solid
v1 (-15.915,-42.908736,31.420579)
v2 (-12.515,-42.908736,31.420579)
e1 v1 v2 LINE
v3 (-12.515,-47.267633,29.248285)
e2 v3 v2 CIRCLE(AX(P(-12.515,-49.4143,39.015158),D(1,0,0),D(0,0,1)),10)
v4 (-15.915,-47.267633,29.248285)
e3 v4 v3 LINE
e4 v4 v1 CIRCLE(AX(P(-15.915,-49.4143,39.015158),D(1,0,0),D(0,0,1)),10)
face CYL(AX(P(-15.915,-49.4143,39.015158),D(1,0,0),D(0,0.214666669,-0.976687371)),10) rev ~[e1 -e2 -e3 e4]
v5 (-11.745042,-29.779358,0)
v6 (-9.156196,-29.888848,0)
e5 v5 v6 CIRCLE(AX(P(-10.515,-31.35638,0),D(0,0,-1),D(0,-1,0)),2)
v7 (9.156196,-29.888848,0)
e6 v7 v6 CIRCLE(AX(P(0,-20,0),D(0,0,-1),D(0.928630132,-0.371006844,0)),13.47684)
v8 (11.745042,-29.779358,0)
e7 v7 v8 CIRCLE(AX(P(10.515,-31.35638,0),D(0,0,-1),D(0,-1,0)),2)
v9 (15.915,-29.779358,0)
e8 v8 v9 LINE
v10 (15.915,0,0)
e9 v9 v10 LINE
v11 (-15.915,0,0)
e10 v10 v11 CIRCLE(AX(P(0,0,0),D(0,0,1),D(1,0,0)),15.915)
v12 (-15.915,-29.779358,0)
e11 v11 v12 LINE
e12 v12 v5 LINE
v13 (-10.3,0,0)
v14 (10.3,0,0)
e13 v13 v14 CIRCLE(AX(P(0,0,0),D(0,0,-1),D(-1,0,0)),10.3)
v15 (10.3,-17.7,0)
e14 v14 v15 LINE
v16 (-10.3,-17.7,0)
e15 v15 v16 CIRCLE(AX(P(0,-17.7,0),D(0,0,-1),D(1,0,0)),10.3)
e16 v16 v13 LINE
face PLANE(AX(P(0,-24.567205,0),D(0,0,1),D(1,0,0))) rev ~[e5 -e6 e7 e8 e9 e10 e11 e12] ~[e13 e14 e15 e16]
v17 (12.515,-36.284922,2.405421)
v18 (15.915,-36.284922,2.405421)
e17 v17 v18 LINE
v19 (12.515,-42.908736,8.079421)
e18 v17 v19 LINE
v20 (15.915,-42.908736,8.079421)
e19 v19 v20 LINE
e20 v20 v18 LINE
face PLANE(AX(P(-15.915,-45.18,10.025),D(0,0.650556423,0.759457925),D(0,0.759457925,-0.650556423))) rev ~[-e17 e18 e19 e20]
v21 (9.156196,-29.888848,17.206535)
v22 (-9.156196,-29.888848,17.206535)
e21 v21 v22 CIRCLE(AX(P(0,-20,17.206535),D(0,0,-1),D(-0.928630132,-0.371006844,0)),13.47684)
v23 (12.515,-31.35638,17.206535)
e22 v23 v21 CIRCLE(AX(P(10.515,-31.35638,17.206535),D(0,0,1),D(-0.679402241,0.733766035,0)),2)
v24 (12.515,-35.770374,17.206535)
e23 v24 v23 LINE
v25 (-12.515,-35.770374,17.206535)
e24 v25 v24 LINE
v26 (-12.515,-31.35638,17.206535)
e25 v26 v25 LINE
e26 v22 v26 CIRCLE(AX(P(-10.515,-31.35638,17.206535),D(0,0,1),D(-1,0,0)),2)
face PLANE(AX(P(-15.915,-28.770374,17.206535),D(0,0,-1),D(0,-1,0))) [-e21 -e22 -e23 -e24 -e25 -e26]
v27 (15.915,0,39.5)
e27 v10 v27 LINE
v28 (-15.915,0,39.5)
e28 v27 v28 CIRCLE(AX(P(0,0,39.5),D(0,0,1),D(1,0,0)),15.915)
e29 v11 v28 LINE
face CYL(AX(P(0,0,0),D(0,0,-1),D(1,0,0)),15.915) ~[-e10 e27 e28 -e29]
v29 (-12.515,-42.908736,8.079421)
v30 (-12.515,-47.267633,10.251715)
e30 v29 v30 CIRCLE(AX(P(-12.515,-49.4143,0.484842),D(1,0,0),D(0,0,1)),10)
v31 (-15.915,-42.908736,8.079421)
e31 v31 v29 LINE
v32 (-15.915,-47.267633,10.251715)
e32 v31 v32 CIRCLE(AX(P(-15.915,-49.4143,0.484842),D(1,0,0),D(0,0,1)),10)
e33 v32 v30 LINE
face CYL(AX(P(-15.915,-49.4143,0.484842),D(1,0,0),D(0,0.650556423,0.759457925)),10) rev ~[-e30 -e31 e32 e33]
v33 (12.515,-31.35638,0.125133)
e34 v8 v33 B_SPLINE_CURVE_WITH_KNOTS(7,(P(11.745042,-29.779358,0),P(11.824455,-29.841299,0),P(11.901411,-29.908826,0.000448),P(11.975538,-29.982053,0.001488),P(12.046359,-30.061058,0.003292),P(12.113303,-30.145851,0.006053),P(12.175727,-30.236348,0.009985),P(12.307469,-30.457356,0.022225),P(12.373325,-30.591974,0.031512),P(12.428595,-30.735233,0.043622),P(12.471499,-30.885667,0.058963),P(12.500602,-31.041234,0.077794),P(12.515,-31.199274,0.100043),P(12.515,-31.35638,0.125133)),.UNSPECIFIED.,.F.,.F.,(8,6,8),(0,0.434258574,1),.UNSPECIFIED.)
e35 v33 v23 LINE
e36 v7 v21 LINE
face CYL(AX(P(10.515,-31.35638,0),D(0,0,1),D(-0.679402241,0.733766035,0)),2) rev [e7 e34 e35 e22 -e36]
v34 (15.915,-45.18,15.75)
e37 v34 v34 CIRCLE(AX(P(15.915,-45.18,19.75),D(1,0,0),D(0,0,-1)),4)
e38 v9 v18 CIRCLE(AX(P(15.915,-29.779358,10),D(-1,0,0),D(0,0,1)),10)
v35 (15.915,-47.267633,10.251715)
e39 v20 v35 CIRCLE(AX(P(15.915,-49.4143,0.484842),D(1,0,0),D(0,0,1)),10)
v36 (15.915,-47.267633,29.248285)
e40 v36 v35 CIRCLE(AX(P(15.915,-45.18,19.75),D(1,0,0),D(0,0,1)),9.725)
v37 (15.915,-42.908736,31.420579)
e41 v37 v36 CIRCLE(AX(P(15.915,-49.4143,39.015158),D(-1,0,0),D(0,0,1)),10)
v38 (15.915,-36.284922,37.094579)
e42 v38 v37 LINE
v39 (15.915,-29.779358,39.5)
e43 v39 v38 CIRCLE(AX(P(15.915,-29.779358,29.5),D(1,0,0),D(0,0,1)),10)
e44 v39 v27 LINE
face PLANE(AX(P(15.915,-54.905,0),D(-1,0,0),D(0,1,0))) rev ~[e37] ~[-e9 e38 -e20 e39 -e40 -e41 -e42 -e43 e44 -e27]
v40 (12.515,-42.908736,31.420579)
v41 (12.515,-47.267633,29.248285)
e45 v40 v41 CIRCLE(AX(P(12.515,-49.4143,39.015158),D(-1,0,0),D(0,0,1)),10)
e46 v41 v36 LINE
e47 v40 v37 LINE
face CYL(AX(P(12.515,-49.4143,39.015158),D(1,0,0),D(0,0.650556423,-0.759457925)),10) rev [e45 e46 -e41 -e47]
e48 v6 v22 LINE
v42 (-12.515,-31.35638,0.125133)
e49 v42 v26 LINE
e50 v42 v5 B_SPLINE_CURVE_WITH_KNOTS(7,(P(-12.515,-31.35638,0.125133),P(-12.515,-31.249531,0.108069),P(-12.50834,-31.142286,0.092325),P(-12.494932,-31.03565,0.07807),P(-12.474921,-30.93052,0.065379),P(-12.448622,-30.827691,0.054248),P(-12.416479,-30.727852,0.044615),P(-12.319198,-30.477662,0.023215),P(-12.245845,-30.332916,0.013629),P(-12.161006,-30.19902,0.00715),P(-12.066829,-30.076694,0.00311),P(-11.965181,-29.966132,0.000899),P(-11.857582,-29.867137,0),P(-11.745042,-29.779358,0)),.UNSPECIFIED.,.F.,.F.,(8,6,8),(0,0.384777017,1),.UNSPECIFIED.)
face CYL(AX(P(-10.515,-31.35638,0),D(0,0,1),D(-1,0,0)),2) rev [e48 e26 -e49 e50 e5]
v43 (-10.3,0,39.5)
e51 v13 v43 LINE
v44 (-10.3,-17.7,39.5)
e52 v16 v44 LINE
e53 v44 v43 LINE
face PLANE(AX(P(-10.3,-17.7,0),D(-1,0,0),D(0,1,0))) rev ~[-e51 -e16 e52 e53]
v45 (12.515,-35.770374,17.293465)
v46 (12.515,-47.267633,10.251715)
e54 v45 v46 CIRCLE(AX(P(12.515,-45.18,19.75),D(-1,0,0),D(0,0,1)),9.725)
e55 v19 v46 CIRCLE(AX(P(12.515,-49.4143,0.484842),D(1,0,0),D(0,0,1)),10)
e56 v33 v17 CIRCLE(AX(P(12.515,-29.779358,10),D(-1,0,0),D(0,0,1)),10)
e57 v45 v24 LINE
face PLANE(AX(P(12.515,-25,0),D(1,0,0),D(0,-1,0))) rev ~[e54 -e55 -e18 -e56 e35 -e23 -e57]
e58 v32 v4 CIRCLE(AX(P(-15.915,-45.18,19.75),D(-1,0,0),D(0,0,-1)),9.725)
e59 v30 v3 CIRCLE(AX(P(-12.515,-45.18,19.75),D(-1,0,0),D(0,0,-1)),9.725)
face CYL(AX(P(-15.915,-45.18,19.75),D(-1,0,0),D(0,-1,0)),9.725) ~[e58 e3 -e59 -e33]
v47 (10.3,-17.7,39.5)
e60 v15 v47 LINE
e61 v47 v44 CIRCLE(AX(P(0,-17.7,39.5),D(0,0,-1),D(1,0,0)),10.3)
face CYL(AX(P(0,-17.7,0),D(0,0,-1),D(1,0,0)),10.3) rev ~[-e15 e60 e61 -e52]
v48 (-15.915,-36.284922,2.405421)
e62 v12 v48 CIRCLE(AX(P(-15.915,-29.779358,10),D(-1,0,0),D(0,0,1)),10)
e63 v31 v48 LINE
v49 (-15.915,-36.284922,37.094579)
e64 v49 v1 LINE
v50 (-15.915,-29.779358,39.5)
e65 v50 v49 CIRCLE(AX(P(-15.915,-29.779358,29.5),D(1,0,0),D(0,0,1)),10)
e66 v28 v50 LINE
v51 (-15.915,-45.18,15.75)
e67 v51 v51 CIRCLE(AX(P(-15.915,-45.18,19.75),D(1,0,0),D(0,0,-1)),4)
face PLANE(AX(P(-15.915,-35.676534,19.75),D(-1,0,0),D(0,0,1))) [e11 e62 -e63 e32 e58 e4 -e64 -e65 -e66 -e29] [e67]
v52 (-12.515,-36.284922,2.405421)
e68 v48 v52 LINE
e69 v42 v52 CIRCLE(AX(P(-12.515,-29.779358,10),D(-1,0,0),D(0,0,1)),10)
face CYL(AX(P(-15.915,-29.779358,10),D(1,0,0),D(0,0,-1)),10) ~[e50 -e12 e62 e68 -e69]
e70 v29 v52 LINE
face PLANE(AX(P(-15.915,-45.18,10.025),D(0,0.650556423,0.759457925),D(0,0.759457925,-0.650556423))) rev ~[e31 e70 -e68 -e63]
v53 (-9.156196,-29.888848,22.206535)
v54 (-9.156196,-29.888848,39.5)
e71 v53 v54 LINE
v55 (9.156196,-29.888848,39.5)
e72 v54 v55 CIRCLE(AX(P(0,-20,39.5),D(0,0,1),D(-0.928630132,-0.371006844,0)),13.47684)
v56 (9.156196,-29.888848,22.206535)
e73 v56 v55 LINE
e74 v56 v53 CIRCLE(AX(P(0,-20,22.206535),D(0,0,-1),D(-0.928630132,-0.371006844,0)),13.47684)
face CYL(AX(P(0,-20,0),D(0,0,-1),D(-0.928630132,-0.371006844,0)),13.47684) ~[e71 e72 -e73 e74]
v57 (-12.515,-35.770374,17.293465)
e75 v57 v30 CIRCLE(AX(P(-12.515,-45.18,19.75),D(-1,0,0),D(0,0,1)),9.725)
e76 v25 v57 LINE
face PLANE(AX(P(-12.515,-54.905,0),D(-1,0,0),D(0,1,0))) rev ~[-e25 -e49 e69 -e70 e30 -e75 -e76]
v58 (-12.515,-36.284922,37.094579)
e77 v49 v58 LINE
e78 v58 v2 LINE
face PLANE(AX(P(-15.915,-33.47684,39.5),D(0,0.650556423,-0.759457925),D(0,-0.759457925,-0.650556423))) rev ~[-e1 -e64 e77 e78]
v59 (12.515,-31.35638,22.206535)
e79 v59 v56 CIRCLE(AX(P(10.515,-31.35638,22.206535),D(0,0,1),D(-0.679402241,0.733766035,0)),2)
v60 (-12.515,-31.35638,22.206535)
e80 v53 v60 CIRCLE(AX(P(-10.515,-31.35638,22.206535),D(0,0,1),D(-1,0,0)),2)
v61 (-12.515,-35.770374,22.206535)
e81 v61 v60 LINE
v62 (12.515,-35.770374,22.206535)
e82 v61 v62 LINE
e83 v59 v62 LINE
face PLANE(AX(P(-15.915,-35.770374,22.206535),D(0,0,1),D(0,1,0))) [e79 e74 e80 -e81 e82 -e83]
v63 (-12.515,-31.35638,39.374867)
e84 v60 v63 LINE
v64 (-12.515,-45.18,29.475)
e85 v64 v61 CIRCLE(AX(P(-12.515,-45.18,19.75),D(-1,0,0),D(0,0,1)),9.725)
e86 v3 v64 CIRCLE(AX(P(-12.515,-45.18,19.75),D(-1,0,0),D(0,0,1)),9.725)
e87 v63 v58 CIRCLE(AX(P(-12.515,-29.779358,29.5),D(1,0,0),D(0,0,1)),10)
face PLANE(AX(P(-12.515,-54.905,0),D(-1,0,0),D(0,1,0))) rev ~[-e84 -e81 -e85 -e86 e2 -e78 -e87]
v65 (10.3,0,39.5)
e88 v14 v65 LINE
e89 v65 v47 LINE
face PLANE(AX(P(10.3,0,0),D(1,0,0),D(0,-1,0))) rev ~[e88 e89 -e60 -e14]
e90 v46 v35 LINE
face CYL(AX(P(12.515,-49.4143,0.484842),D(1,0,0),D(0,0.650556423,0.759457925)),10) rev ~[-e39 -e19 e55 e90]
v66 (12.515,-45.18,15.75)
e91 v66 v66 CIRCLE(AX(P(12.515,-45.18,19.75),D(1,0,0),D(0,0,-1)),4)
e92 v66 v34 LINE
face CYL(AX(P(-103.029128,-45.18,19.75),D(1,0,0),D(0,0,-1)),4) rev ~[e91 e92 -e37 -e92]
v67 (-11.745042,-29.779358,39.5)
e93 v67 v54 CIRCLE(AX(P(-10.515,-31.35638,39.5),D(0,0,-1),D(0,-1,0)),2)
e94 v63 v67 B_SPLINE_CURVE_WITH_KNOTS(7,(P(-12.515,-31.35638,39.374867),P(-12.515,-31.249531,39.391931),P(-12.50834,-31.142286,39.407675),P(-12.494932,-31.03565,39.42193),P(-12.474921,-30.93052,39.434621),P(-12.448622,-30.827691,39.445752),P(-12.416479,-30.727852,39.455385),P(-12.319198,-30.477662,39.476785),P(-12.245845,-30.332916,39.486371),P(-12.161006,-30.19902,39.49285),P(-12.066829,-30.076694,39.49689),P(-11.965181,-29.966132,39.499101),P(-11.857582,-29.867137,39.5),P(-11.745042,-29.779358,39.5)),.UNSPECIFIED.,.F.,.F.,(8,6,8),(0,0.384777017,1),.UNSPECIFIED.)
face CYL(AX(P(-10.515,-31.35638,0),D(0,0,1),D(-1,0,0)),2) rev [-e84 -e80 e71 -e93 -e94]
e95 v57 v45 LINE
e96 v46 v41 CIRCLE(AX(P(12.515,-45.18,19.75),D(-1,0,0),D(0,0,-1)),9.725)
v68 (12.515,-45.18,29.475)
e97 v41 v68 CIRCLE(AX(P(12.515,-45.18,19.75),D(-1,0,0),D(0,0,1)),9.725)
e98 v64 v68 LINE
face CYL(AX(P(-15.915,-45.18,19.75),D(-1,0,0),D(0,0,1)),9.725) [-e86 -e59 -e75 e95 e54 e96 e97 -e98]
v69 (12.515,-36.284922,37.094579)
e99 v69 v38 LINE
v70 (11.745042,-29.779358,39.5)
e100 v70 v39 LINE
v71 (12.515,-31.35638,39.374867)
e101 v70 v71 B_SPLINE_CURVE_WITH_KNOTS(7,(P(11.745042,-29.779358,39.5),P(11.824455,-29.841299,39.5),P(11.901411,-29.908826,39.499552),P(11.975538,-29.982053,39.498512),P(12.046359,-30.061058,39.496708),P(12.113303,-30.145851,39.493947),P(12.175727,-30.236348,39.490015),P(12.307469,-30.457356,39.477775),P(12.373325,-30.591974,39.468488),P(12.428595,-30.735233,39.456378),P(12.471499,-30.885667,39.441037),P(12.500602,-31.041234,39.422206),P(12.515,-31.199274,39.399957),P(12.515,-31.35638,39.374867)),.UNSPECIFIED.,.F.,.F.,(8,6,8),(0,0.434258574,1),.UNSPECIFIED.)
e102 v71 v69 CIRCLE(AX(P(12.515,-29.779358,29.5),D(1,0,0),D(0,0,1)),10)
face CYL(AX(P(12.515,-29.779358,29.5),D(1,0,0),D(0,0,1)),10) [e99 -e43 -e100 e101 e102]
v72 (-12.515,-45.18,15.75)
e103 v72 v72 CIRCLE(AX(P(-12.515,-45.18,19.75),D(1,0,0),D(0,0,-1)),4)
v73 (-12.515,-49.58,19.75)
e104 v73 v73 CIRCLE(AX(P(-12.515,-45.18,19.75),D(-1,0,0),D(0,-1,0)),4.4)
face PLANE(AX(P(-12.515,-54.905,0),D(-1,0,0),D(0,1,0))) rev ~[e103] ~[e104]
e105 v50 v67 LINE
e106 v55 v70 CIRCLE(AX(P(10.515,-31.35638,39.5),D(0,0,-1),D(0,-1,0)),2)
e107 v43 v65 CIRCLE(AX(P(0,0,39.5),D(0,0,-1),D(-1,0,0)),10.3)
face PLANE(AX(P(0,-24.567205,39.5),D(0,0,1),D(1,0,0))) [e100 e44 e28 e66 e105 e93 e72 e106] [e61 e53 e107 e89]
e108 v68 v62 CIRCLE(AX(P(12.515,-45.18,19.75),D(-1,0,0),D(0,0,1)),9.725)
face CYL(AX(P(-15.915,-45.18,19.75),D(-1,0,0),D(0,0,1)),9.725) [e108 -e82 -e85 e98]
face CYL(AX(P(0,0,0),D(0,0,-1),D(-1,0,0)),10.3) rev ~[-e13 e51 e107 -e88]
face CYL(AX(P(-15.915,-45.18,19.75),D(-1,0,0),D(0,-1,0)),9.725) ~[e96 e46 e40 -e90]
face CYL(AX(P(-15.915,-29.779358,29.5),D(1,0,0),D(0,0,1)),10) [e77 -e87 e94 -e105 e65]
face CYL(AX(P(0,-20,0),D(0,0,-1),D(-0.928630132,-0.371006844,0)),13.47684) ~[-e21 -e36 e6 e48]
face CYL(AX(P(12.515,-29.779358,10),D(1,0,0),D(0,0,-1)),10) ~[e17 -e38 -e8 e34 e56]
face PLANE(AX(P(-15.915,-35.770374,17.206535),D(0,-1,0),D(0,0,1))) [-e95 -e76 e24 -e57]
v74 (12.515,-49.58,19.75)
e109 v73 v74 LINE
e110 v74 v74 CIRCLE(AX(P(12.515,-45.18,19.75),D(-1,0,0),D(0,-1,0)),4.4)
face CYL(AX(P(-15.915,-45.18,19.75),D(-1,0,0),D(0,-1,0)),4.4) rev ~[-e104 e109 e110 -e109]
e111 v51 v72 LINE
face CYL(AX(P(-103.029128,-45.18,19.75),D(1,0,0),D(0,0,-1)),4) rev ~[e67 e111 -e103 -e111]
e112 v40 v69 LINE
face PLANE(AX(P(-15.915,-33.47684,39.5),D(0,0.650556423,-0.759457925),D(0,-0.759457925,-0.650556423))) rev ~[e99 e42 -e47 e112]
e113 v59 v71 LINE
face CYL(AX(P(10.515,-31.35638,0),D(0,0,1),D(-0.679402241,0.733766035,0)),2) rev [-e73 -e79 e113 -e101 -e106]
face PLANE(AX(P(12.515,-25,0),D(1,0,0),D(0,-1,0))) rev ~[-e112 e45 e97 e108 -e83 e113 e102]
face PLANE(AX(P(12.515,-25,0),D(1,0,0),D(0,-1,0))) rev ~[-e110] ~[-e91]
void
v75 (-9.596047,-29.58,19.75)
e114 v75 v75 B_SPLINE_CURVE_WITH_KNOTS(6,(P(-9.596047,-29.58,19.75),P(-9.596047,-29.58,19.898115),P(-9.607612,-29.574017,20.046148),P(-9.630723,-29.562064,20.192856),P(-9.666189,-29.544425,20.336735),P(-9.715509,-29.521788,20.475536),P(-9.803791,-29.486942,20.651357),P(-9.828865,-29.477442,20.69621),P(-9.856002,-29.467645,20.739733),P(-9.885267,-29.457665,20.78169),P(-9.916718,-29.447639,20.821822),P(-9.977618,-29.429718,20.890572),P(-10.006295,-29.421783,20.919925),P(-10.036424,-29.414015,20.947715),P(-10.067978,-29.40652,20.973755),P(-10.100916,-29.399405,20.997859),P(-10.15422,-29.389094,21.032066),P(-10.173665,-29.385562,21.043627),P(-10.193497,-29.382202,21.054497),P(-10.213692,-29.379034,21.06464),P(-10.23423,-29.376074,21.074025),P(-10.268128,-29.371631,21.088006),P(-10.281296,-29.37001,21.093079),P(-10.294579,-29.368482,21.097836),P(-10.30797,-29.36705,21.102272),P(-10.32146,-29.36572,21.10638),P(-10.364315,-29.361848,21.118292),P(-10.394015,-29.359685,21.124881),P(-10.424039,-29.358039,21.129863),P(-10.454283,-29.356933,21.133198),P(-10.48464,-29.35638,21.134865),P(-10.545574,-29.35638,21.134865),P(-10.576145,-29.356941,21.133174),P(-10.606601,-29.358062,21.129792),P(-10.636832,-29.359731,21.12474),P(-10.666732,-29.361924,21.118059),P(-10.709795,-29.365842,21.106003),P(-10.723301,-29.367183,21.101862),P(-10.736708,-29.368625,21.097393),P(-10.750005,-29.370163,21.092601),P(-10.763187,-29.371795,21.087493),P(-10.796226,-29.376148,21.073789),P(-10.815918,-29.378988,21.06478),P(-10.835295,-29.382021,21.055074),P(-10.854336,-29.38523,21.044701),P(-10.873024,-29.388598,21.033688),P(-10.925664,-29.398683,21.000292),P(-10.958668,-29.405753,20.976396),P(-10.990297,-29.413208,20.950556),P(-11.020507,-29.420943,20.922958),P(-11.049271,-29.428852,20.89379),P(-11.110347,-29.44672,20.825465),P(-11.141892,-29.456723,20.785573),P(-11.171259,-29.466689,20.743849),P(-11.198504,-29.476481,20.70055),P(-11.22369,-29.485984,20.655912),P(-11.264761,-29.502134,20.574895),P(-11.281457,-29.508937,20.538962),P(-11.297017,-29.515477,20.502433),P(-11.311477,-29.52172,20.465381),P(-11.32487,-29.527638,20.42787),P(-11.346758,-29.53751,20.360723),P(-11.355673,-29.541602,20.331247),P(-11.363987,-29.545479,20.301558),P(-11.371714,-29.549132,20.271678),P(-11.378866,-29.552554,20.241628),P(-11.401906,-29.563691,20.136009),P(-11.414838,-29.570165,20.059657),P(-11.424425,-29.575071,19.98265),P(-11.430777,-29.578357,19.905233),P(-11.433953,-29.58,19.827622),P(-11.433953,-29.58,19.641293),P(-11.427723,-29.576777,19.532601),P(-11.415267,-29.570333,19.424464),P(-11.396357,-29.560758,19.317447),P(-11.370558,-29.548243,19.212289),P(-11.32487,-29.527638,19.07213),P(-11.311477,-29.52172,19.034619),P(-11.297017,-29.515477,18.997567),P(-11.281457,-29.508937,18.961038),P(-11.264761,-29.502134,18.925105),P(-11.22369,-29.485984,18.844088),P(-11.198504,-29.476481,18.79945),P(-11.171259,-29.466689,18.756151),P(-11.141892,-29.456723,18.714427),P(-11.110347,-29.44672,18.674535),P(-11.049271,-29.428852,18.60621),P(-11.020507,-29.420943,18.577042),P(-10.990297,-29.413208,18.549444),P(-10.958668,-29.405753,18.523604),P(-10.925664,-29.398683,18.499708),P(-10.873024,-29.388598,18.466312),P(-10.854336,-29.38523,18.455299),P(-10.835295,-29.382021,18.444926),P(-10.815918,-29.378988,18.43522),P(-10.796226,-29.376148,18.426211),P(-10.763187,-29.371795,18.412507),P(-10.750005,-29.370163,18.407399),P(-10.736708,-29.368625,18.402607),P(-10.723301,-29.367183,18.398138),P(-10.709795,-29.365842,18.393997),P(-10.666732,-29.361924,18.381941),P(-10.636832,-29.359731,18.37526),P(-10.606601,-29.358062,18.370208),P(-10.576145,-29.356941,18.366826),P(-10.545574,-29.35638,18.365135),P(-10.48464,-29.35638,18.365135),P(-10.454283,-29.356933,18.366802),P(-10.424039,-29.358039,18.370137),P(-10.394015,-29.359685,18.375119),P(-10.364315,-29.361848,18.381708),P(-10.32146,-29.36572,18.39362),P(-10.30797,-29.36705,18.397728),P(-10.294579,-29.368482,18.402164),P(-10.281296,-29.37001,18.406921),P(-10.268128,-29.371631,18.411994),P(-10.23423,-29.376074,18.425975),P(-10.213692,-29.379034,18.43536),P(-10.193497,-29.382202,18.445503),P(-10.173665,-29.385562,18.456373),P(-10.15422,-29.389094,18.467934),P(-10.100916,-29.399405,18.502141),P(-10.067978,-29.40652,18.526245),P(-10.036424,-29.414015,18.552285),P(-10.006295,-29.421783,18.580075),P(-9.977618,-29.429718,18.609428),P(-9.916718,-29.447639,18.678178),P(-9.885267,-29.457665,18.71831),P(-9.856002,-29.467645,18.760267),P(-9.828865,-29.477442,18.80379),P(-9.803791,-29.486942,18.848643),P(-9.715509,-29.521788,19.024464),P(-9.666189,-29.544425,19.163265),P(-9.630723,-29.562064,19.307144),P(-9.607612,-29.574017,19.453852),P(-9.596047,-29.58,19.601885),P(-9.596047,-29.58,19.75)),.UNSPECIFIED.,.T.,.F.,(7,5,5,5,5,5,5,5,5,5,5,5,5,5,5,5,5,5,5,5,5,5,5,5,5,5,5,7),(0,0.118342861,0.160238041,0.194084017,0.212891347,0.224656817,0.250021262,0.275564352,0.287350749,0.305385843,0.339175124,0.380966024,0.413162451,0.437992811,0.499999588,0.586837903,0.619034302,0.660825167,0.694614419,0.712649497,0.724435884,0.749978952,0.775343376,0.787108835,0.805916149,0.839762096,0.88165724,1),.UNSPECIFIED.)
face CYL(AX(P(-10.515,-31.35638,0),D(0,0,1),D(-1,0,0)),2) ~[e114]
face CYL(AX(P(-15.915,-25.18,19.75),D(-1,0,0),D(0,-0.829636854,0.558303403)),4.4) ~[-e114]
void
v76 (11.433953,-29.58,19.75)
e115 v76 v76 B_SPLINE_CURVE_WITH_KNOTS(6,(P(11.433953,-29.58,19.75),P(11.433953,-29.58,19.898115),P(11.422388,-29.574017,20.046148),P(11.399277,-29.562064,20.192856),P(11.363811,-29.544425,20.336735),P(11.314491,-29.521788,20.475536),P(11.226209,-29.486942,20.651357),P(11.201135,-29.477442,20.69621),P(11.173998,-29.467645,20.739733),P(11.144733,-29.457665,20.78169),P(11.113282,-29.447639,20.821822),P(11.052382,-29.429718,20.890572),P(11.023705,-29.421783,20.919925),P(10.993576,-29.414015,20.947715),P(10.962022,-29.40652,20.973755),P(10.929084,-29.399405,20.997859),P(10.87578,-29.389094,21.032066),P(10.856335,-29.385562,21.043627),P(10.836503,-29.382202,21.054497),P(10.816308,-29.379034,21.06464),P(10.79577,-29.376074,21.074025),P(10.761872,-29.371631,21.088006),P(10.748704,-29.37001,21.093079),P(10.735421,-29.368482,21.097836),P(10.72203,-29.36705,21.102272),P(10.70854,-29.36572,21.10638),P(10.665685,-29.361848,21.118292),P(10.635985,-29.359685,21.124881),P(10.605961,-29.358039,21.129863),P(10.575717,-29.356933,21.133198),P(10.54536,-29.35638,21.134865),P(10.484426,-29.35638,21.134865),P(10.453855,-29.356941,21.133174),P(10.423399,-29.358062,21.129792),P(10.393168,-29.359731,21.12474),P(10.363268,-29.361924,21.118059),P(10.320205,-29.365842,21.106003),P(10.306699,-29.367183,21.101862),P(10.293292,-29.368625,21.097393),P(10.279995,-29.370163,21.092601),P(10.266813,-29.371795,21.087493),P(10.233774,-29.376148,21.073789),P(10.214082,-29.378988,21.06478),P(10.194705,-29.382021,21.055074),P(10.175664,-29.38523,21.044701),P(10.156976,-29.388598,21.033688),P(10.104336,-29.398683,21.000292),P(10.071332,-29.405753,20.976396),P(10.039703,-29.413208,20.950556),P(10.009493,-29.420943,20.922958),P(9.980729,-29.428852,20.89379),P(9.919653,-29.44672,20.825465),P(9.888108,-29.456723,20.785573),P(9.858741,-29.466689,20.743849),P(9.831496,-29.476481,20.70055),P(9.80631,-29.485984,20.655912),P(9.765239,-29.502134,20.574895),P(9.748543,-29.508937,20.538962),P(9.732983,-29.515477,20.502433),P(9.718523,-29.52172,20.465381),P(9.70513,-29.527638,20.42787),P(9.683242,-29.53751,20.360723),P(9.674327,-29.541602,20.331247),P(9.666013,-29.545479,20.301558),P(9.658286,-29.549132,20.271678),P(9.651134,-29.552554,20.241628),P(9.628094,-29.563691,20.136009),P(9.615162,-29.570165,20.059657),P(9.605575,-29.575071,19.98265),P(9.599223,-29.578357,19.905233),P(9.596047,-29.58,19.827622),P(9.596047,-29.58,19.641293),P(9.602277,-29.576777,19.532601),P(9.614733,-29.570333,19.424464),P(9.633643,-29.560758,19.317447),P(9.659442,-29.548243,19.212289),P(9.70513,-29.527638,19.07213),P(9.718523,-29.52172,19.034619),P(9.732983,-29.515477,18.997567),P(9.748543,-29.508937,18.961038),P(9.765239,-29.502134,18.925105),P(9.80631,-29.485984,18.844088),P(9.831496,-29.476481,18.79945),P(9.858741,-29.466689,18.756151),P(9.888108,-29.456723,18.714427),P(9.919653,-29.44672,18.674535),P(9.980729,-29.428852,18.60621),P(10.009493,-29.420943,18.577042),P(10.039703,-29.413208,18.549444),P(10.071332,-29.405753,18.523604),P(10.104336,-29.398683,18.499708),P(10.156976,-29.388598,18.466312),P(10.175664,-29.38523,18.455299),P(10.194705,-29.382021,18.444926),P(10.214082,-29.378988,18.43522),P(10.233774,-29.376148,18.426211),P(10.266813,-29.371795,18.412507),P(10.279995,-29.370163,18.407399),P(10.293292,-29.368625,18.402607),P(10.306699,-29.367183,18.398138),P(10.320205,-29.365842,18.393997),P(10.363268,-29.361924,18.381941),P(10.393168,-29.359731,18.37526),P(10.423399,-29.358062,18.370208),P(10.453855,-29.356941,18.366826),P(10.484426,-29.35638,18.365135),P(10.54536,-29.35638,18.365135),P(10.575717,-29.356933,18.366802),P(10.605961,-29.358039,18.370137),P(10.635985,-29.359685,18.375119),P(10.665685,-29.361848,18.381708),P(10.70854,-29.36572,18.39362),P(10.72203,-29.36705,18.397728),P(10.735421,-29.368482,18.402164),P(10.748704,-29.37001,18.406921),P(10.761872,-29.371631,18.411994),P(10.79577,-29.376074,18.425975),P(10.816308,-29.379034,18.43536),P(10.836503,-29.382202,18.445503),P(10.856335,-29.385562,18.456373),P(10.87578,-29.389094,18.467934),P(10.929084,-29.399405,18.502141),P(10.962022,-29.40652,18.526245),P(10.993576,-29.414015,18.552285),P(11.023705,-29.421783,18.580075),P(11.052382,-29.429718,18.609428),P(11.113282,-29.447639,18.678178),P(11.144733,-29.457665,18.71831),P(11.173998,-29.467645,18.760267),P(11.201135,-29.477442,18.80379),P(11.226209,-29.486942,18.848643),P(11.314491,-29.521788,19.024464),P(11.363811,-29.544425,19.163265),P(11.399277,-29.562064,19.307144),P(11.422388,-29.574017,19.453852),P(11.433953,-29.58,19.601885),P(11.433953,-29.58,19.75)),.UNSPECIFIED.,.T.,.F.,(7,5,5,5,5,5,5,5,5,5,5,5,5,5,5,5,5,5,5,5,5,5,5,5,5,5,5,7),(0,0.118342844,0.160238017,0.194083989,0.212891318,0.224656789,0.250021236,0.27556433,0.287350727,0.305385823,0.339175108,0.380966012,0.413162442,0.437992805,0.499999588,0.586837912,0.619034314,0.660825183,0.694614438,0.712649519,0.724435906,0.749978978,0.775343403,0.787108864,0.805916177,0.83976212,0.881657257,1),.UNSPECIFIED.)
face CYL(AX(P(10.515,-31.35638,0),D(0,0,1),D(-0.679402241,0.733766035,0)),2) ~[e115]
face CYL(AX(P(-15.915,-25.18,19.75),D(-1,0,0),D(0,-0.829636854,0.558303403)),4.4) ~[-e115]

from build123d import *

# Parameters (mm, degrees)
BOSS_EXTRUDE1_DEPTH  = 39.5
CUT_EXTRUDE1_DEPTH   = 75.75264493648368
M7_CLEARANCE_HOLE1_D = 8
FILLET1_R            = 10
FILLET3_R            = 2
BOSS_EXTRUDE2_REACH  = 76.753
SKETCH3_3_R          = 9.724999999999993
SKETCH3_3_R_2        = 4.4


with BuildPart() as part:
    # Sketch2 → Boss-Extrude1 (new body)
    with BuildSketch(Plane.XY):
        with BuildLine():
            Line((-15.914999999999996, 0), (-15.914999999999988, -54.904999999999994))
            Line((-15.914999999999988, -54.904999999999994), (-12.514999999999986, -54.904999999999994))
            Line((-12.514999999999986, -54.904999999999994), (-12.515, -25))
            ThreePointArc((-12.515, -25), (4.71e-15, -33.47684031960013), (12.515, -25))
            Line((12.515, -25), (12.515000000000002, -54.904999999999994))
            Line((12.515000000000002, -54.904999999999994), (15.915, -54.904999999999994))
            Line((15.915, -54.904999999999994), (15.914999999999996, 3.9e-15))
            ThreePointArc((15.914999999999996, 3.9e-15), (9.7e-16, 15.914999999999996), (-15.914999999999996, 0))
        make_face()
        with BuildLine():
            Line((10.3, 1.26e-15), (10.3, -17.7))
            ThreePointArc((10.3, -17.7), (3.82e-15, -28), (-10.299999999999997, -17.700000000000003))
            Line((-10.299999999999997, -17.700000000000003), (-10.3, -1.26e-15))
            ThreePointArc((-10.3, -1.26e-15), (-1.66e-15, 10.3), (10.3, 1.26e-15))
        make_face(mode=Mode.SUBTRACT)
    extrude(amount=BOSS_EXTRUDE1_DEPTH)

    # Sketch3 → Cut-Extrude1 (cut, through all)
    with BuildSketch(Plane.ZY.offset(15.914999999999996)):
        with BuildLine():
            Line((0, -54.904999999999994), (19.74999999999999, -54.904999999999994))
            ThreePointArc((19.74999999999999, -54.904999999999994), (12.873386552960827, -52.05661344703917), (10.025000000000007, -45.18))
            Line((10.025, -45.18), (0, -33.47684031960014))
            Line((0, -33.47684031960014), (0, -54.904999999999994))
        make_face()
        with BuildLine():
            Line((19.74999999999999, -54.904999999999994), (39.5, -54.904999999999994))
            Line((39.5, -54.904999999999994), (39.5, -33.47684031960014))
            Line((39.5, -33.47684031960014), (29.475, -45.18))
            ThreePointArc((29.474999999999994, -45.18), (26.626613447039162, -52.056613447039176), (19.74999999999999, -54.904999999999994))
        make_face()
    extrude(amount=-CUT_EXTRUDE1_DEPTH, mode=Mode.SUBTRACT)

    # M7 Clearance Hole1 (through all)
    with Locations(Plane.ZY.offset(15.914999999999996)):
        with Locations((19.75, -45.18)):
            Hole(M7_CLEARANCE_HOLE1_D / 2)

    # Fillet1
    fillet1_edges = [part.edges().sort_by_distance(p)[0] for p in [
        (-14.21499999999999, -45.18, 10.025000000000002),
        (14.215000000000002, -45.17999999999999, 10.025000000000002),
        (-14.214999999999993, -33.47684031960014, 0),
        (14.215, -33.476840319600136, 0),
        (-14.21499999999999, -45.18, 29.474999999999998),
        (14.215000000000002, -45.17999999999999, 29.474999999999998),
        (-14.214999999999993, -33.47684031960014, 39.5),
        (14.215, -33.476840319600136, 39.5),
    ]]
    fillet(fillet1_edges, radius=FILLET1_R)

    # Fillet3
    fillet3_edges = [part.edges().sort_by_distance(p)[0] for p in [
        (12.515, -25, 19.75),
        (-12.515000000000002, -25, 19.75),
    ]]
    fillet(fillet3_edges, radius=FILLET3_R)

    # Boss-Extrude2: up to this face of the body (flat: up to its plane)
    boss_extrude2_end = Plane(part.part.faces().sort_by_distance((12.515, -40.102126489, 19.75))[0])
    # Sketch3<3> → Boss-Extrude2 (add, up to the picked face)
    with BuildSketch(Plane.ZY.offset(15.914999999999996), mode=Mode.PRIVATE) as boss_extrude2_sk1:
        with Locations((19.75, -45.18)):
            Circle(SKETCH3_3_R)
        with Locations(Location((19.75, -45.18, 0), (0, 0, 270))):
            Circle(SKETCH3_3_R_2, mode=Mode.SUBTRACT)
    boss_extrude2_tool1 = split(extrude(boss_extrude2_sk1.sketch, amount=-BOSS_EXTRUDE2_REACH, mode=Mode.PRIVATE), bisect_by=boss_extrude2_end, keep=Keep.BOTH, mode=Mode.PRIVATE)
    # Sketch3<3> → Boss-Extrude2 (add, up to the picked face)
    with BuildSketch(Plane.ZY.offset(15.914999999999996), mode=Mode.PRIVATE) as boss_extrude2_sk2:
        with BuildLine():
            Line((17.206534975176847, -35.77037402891417), (17.293465024823192, -35.77037402891417))
            ThreePointArc((17.293465024823192, -35.77037402891417), (19.750000000000018, -35.455000000000005), (22.206534975176844, -35.770374028914176))
            Line((22.206534975176847, -35.77037402891417), (22.206534975176847, -28.83040215808249))
            ThreePointArc((22.20653497517679, -28.830402158082467), (19.697179052869707, -29.57968293716084), (17.20653497517685, -28.770374028914166))
            Line((17.206534975176847, -28.77037402891417), (17.206534975176847, -35.77037402891417))
        make_face()
    boss_extrude2_tool2 = split(extrude(boss_extrude2_sk2.sketch, amount=-BOSS_EXTRUDE2_REACH, mode=Mode.PRIVATE), bisect_by=boss_extrude2_end, keep=Keep.BOTH, mode=Mode.PRIVATE)
    # Sketch3<3> → Boss-Extrude2 (add, up to the picked face)
    with BuildSketch(Plane.ZY.offset(15.914999999999996), mode=Mode.PRIVATE) as boss_extrude2_sk3:
        with BuildLine():
            ThreePointArc((22.206534975176844, -35.770374028914176), (19.750000000000018, -35.455000000000005), (17.293465024823192, -35.77037402891417))
            Line((17.293465024823192, -35.77037402891417), (22.206534975176847, -35.77037402891417))
        make_face()
    boss_extrude2_tool3 = split(extrude(boss_extrude2_sk3.sketch, amount=-BOSS_EXTRUDE2_REACH, mode=Mode.PRIVATE), bisect_by=boss_extrude2_end, keep=Keep.BOTH, mode=Mode.PRIVATE)
    add(boss_extrude2_tool1.solids().sort_by(Axis((-15.915, -45.18, 10.300065), (1, 1.9e-16, 0)))[0])
    add(boss_extrude2_tool2.solids().sort_by(Axis((-15.915, -32.443059, 19.701397), (1, 1.9e-16, 0)))[0])
    add(boss_extrude2_tool3.solids().sort_by(Axis((-15.915, -35.644047, 19.75), (1, 1.9e-16, 0)))[0])


solid = part.part
